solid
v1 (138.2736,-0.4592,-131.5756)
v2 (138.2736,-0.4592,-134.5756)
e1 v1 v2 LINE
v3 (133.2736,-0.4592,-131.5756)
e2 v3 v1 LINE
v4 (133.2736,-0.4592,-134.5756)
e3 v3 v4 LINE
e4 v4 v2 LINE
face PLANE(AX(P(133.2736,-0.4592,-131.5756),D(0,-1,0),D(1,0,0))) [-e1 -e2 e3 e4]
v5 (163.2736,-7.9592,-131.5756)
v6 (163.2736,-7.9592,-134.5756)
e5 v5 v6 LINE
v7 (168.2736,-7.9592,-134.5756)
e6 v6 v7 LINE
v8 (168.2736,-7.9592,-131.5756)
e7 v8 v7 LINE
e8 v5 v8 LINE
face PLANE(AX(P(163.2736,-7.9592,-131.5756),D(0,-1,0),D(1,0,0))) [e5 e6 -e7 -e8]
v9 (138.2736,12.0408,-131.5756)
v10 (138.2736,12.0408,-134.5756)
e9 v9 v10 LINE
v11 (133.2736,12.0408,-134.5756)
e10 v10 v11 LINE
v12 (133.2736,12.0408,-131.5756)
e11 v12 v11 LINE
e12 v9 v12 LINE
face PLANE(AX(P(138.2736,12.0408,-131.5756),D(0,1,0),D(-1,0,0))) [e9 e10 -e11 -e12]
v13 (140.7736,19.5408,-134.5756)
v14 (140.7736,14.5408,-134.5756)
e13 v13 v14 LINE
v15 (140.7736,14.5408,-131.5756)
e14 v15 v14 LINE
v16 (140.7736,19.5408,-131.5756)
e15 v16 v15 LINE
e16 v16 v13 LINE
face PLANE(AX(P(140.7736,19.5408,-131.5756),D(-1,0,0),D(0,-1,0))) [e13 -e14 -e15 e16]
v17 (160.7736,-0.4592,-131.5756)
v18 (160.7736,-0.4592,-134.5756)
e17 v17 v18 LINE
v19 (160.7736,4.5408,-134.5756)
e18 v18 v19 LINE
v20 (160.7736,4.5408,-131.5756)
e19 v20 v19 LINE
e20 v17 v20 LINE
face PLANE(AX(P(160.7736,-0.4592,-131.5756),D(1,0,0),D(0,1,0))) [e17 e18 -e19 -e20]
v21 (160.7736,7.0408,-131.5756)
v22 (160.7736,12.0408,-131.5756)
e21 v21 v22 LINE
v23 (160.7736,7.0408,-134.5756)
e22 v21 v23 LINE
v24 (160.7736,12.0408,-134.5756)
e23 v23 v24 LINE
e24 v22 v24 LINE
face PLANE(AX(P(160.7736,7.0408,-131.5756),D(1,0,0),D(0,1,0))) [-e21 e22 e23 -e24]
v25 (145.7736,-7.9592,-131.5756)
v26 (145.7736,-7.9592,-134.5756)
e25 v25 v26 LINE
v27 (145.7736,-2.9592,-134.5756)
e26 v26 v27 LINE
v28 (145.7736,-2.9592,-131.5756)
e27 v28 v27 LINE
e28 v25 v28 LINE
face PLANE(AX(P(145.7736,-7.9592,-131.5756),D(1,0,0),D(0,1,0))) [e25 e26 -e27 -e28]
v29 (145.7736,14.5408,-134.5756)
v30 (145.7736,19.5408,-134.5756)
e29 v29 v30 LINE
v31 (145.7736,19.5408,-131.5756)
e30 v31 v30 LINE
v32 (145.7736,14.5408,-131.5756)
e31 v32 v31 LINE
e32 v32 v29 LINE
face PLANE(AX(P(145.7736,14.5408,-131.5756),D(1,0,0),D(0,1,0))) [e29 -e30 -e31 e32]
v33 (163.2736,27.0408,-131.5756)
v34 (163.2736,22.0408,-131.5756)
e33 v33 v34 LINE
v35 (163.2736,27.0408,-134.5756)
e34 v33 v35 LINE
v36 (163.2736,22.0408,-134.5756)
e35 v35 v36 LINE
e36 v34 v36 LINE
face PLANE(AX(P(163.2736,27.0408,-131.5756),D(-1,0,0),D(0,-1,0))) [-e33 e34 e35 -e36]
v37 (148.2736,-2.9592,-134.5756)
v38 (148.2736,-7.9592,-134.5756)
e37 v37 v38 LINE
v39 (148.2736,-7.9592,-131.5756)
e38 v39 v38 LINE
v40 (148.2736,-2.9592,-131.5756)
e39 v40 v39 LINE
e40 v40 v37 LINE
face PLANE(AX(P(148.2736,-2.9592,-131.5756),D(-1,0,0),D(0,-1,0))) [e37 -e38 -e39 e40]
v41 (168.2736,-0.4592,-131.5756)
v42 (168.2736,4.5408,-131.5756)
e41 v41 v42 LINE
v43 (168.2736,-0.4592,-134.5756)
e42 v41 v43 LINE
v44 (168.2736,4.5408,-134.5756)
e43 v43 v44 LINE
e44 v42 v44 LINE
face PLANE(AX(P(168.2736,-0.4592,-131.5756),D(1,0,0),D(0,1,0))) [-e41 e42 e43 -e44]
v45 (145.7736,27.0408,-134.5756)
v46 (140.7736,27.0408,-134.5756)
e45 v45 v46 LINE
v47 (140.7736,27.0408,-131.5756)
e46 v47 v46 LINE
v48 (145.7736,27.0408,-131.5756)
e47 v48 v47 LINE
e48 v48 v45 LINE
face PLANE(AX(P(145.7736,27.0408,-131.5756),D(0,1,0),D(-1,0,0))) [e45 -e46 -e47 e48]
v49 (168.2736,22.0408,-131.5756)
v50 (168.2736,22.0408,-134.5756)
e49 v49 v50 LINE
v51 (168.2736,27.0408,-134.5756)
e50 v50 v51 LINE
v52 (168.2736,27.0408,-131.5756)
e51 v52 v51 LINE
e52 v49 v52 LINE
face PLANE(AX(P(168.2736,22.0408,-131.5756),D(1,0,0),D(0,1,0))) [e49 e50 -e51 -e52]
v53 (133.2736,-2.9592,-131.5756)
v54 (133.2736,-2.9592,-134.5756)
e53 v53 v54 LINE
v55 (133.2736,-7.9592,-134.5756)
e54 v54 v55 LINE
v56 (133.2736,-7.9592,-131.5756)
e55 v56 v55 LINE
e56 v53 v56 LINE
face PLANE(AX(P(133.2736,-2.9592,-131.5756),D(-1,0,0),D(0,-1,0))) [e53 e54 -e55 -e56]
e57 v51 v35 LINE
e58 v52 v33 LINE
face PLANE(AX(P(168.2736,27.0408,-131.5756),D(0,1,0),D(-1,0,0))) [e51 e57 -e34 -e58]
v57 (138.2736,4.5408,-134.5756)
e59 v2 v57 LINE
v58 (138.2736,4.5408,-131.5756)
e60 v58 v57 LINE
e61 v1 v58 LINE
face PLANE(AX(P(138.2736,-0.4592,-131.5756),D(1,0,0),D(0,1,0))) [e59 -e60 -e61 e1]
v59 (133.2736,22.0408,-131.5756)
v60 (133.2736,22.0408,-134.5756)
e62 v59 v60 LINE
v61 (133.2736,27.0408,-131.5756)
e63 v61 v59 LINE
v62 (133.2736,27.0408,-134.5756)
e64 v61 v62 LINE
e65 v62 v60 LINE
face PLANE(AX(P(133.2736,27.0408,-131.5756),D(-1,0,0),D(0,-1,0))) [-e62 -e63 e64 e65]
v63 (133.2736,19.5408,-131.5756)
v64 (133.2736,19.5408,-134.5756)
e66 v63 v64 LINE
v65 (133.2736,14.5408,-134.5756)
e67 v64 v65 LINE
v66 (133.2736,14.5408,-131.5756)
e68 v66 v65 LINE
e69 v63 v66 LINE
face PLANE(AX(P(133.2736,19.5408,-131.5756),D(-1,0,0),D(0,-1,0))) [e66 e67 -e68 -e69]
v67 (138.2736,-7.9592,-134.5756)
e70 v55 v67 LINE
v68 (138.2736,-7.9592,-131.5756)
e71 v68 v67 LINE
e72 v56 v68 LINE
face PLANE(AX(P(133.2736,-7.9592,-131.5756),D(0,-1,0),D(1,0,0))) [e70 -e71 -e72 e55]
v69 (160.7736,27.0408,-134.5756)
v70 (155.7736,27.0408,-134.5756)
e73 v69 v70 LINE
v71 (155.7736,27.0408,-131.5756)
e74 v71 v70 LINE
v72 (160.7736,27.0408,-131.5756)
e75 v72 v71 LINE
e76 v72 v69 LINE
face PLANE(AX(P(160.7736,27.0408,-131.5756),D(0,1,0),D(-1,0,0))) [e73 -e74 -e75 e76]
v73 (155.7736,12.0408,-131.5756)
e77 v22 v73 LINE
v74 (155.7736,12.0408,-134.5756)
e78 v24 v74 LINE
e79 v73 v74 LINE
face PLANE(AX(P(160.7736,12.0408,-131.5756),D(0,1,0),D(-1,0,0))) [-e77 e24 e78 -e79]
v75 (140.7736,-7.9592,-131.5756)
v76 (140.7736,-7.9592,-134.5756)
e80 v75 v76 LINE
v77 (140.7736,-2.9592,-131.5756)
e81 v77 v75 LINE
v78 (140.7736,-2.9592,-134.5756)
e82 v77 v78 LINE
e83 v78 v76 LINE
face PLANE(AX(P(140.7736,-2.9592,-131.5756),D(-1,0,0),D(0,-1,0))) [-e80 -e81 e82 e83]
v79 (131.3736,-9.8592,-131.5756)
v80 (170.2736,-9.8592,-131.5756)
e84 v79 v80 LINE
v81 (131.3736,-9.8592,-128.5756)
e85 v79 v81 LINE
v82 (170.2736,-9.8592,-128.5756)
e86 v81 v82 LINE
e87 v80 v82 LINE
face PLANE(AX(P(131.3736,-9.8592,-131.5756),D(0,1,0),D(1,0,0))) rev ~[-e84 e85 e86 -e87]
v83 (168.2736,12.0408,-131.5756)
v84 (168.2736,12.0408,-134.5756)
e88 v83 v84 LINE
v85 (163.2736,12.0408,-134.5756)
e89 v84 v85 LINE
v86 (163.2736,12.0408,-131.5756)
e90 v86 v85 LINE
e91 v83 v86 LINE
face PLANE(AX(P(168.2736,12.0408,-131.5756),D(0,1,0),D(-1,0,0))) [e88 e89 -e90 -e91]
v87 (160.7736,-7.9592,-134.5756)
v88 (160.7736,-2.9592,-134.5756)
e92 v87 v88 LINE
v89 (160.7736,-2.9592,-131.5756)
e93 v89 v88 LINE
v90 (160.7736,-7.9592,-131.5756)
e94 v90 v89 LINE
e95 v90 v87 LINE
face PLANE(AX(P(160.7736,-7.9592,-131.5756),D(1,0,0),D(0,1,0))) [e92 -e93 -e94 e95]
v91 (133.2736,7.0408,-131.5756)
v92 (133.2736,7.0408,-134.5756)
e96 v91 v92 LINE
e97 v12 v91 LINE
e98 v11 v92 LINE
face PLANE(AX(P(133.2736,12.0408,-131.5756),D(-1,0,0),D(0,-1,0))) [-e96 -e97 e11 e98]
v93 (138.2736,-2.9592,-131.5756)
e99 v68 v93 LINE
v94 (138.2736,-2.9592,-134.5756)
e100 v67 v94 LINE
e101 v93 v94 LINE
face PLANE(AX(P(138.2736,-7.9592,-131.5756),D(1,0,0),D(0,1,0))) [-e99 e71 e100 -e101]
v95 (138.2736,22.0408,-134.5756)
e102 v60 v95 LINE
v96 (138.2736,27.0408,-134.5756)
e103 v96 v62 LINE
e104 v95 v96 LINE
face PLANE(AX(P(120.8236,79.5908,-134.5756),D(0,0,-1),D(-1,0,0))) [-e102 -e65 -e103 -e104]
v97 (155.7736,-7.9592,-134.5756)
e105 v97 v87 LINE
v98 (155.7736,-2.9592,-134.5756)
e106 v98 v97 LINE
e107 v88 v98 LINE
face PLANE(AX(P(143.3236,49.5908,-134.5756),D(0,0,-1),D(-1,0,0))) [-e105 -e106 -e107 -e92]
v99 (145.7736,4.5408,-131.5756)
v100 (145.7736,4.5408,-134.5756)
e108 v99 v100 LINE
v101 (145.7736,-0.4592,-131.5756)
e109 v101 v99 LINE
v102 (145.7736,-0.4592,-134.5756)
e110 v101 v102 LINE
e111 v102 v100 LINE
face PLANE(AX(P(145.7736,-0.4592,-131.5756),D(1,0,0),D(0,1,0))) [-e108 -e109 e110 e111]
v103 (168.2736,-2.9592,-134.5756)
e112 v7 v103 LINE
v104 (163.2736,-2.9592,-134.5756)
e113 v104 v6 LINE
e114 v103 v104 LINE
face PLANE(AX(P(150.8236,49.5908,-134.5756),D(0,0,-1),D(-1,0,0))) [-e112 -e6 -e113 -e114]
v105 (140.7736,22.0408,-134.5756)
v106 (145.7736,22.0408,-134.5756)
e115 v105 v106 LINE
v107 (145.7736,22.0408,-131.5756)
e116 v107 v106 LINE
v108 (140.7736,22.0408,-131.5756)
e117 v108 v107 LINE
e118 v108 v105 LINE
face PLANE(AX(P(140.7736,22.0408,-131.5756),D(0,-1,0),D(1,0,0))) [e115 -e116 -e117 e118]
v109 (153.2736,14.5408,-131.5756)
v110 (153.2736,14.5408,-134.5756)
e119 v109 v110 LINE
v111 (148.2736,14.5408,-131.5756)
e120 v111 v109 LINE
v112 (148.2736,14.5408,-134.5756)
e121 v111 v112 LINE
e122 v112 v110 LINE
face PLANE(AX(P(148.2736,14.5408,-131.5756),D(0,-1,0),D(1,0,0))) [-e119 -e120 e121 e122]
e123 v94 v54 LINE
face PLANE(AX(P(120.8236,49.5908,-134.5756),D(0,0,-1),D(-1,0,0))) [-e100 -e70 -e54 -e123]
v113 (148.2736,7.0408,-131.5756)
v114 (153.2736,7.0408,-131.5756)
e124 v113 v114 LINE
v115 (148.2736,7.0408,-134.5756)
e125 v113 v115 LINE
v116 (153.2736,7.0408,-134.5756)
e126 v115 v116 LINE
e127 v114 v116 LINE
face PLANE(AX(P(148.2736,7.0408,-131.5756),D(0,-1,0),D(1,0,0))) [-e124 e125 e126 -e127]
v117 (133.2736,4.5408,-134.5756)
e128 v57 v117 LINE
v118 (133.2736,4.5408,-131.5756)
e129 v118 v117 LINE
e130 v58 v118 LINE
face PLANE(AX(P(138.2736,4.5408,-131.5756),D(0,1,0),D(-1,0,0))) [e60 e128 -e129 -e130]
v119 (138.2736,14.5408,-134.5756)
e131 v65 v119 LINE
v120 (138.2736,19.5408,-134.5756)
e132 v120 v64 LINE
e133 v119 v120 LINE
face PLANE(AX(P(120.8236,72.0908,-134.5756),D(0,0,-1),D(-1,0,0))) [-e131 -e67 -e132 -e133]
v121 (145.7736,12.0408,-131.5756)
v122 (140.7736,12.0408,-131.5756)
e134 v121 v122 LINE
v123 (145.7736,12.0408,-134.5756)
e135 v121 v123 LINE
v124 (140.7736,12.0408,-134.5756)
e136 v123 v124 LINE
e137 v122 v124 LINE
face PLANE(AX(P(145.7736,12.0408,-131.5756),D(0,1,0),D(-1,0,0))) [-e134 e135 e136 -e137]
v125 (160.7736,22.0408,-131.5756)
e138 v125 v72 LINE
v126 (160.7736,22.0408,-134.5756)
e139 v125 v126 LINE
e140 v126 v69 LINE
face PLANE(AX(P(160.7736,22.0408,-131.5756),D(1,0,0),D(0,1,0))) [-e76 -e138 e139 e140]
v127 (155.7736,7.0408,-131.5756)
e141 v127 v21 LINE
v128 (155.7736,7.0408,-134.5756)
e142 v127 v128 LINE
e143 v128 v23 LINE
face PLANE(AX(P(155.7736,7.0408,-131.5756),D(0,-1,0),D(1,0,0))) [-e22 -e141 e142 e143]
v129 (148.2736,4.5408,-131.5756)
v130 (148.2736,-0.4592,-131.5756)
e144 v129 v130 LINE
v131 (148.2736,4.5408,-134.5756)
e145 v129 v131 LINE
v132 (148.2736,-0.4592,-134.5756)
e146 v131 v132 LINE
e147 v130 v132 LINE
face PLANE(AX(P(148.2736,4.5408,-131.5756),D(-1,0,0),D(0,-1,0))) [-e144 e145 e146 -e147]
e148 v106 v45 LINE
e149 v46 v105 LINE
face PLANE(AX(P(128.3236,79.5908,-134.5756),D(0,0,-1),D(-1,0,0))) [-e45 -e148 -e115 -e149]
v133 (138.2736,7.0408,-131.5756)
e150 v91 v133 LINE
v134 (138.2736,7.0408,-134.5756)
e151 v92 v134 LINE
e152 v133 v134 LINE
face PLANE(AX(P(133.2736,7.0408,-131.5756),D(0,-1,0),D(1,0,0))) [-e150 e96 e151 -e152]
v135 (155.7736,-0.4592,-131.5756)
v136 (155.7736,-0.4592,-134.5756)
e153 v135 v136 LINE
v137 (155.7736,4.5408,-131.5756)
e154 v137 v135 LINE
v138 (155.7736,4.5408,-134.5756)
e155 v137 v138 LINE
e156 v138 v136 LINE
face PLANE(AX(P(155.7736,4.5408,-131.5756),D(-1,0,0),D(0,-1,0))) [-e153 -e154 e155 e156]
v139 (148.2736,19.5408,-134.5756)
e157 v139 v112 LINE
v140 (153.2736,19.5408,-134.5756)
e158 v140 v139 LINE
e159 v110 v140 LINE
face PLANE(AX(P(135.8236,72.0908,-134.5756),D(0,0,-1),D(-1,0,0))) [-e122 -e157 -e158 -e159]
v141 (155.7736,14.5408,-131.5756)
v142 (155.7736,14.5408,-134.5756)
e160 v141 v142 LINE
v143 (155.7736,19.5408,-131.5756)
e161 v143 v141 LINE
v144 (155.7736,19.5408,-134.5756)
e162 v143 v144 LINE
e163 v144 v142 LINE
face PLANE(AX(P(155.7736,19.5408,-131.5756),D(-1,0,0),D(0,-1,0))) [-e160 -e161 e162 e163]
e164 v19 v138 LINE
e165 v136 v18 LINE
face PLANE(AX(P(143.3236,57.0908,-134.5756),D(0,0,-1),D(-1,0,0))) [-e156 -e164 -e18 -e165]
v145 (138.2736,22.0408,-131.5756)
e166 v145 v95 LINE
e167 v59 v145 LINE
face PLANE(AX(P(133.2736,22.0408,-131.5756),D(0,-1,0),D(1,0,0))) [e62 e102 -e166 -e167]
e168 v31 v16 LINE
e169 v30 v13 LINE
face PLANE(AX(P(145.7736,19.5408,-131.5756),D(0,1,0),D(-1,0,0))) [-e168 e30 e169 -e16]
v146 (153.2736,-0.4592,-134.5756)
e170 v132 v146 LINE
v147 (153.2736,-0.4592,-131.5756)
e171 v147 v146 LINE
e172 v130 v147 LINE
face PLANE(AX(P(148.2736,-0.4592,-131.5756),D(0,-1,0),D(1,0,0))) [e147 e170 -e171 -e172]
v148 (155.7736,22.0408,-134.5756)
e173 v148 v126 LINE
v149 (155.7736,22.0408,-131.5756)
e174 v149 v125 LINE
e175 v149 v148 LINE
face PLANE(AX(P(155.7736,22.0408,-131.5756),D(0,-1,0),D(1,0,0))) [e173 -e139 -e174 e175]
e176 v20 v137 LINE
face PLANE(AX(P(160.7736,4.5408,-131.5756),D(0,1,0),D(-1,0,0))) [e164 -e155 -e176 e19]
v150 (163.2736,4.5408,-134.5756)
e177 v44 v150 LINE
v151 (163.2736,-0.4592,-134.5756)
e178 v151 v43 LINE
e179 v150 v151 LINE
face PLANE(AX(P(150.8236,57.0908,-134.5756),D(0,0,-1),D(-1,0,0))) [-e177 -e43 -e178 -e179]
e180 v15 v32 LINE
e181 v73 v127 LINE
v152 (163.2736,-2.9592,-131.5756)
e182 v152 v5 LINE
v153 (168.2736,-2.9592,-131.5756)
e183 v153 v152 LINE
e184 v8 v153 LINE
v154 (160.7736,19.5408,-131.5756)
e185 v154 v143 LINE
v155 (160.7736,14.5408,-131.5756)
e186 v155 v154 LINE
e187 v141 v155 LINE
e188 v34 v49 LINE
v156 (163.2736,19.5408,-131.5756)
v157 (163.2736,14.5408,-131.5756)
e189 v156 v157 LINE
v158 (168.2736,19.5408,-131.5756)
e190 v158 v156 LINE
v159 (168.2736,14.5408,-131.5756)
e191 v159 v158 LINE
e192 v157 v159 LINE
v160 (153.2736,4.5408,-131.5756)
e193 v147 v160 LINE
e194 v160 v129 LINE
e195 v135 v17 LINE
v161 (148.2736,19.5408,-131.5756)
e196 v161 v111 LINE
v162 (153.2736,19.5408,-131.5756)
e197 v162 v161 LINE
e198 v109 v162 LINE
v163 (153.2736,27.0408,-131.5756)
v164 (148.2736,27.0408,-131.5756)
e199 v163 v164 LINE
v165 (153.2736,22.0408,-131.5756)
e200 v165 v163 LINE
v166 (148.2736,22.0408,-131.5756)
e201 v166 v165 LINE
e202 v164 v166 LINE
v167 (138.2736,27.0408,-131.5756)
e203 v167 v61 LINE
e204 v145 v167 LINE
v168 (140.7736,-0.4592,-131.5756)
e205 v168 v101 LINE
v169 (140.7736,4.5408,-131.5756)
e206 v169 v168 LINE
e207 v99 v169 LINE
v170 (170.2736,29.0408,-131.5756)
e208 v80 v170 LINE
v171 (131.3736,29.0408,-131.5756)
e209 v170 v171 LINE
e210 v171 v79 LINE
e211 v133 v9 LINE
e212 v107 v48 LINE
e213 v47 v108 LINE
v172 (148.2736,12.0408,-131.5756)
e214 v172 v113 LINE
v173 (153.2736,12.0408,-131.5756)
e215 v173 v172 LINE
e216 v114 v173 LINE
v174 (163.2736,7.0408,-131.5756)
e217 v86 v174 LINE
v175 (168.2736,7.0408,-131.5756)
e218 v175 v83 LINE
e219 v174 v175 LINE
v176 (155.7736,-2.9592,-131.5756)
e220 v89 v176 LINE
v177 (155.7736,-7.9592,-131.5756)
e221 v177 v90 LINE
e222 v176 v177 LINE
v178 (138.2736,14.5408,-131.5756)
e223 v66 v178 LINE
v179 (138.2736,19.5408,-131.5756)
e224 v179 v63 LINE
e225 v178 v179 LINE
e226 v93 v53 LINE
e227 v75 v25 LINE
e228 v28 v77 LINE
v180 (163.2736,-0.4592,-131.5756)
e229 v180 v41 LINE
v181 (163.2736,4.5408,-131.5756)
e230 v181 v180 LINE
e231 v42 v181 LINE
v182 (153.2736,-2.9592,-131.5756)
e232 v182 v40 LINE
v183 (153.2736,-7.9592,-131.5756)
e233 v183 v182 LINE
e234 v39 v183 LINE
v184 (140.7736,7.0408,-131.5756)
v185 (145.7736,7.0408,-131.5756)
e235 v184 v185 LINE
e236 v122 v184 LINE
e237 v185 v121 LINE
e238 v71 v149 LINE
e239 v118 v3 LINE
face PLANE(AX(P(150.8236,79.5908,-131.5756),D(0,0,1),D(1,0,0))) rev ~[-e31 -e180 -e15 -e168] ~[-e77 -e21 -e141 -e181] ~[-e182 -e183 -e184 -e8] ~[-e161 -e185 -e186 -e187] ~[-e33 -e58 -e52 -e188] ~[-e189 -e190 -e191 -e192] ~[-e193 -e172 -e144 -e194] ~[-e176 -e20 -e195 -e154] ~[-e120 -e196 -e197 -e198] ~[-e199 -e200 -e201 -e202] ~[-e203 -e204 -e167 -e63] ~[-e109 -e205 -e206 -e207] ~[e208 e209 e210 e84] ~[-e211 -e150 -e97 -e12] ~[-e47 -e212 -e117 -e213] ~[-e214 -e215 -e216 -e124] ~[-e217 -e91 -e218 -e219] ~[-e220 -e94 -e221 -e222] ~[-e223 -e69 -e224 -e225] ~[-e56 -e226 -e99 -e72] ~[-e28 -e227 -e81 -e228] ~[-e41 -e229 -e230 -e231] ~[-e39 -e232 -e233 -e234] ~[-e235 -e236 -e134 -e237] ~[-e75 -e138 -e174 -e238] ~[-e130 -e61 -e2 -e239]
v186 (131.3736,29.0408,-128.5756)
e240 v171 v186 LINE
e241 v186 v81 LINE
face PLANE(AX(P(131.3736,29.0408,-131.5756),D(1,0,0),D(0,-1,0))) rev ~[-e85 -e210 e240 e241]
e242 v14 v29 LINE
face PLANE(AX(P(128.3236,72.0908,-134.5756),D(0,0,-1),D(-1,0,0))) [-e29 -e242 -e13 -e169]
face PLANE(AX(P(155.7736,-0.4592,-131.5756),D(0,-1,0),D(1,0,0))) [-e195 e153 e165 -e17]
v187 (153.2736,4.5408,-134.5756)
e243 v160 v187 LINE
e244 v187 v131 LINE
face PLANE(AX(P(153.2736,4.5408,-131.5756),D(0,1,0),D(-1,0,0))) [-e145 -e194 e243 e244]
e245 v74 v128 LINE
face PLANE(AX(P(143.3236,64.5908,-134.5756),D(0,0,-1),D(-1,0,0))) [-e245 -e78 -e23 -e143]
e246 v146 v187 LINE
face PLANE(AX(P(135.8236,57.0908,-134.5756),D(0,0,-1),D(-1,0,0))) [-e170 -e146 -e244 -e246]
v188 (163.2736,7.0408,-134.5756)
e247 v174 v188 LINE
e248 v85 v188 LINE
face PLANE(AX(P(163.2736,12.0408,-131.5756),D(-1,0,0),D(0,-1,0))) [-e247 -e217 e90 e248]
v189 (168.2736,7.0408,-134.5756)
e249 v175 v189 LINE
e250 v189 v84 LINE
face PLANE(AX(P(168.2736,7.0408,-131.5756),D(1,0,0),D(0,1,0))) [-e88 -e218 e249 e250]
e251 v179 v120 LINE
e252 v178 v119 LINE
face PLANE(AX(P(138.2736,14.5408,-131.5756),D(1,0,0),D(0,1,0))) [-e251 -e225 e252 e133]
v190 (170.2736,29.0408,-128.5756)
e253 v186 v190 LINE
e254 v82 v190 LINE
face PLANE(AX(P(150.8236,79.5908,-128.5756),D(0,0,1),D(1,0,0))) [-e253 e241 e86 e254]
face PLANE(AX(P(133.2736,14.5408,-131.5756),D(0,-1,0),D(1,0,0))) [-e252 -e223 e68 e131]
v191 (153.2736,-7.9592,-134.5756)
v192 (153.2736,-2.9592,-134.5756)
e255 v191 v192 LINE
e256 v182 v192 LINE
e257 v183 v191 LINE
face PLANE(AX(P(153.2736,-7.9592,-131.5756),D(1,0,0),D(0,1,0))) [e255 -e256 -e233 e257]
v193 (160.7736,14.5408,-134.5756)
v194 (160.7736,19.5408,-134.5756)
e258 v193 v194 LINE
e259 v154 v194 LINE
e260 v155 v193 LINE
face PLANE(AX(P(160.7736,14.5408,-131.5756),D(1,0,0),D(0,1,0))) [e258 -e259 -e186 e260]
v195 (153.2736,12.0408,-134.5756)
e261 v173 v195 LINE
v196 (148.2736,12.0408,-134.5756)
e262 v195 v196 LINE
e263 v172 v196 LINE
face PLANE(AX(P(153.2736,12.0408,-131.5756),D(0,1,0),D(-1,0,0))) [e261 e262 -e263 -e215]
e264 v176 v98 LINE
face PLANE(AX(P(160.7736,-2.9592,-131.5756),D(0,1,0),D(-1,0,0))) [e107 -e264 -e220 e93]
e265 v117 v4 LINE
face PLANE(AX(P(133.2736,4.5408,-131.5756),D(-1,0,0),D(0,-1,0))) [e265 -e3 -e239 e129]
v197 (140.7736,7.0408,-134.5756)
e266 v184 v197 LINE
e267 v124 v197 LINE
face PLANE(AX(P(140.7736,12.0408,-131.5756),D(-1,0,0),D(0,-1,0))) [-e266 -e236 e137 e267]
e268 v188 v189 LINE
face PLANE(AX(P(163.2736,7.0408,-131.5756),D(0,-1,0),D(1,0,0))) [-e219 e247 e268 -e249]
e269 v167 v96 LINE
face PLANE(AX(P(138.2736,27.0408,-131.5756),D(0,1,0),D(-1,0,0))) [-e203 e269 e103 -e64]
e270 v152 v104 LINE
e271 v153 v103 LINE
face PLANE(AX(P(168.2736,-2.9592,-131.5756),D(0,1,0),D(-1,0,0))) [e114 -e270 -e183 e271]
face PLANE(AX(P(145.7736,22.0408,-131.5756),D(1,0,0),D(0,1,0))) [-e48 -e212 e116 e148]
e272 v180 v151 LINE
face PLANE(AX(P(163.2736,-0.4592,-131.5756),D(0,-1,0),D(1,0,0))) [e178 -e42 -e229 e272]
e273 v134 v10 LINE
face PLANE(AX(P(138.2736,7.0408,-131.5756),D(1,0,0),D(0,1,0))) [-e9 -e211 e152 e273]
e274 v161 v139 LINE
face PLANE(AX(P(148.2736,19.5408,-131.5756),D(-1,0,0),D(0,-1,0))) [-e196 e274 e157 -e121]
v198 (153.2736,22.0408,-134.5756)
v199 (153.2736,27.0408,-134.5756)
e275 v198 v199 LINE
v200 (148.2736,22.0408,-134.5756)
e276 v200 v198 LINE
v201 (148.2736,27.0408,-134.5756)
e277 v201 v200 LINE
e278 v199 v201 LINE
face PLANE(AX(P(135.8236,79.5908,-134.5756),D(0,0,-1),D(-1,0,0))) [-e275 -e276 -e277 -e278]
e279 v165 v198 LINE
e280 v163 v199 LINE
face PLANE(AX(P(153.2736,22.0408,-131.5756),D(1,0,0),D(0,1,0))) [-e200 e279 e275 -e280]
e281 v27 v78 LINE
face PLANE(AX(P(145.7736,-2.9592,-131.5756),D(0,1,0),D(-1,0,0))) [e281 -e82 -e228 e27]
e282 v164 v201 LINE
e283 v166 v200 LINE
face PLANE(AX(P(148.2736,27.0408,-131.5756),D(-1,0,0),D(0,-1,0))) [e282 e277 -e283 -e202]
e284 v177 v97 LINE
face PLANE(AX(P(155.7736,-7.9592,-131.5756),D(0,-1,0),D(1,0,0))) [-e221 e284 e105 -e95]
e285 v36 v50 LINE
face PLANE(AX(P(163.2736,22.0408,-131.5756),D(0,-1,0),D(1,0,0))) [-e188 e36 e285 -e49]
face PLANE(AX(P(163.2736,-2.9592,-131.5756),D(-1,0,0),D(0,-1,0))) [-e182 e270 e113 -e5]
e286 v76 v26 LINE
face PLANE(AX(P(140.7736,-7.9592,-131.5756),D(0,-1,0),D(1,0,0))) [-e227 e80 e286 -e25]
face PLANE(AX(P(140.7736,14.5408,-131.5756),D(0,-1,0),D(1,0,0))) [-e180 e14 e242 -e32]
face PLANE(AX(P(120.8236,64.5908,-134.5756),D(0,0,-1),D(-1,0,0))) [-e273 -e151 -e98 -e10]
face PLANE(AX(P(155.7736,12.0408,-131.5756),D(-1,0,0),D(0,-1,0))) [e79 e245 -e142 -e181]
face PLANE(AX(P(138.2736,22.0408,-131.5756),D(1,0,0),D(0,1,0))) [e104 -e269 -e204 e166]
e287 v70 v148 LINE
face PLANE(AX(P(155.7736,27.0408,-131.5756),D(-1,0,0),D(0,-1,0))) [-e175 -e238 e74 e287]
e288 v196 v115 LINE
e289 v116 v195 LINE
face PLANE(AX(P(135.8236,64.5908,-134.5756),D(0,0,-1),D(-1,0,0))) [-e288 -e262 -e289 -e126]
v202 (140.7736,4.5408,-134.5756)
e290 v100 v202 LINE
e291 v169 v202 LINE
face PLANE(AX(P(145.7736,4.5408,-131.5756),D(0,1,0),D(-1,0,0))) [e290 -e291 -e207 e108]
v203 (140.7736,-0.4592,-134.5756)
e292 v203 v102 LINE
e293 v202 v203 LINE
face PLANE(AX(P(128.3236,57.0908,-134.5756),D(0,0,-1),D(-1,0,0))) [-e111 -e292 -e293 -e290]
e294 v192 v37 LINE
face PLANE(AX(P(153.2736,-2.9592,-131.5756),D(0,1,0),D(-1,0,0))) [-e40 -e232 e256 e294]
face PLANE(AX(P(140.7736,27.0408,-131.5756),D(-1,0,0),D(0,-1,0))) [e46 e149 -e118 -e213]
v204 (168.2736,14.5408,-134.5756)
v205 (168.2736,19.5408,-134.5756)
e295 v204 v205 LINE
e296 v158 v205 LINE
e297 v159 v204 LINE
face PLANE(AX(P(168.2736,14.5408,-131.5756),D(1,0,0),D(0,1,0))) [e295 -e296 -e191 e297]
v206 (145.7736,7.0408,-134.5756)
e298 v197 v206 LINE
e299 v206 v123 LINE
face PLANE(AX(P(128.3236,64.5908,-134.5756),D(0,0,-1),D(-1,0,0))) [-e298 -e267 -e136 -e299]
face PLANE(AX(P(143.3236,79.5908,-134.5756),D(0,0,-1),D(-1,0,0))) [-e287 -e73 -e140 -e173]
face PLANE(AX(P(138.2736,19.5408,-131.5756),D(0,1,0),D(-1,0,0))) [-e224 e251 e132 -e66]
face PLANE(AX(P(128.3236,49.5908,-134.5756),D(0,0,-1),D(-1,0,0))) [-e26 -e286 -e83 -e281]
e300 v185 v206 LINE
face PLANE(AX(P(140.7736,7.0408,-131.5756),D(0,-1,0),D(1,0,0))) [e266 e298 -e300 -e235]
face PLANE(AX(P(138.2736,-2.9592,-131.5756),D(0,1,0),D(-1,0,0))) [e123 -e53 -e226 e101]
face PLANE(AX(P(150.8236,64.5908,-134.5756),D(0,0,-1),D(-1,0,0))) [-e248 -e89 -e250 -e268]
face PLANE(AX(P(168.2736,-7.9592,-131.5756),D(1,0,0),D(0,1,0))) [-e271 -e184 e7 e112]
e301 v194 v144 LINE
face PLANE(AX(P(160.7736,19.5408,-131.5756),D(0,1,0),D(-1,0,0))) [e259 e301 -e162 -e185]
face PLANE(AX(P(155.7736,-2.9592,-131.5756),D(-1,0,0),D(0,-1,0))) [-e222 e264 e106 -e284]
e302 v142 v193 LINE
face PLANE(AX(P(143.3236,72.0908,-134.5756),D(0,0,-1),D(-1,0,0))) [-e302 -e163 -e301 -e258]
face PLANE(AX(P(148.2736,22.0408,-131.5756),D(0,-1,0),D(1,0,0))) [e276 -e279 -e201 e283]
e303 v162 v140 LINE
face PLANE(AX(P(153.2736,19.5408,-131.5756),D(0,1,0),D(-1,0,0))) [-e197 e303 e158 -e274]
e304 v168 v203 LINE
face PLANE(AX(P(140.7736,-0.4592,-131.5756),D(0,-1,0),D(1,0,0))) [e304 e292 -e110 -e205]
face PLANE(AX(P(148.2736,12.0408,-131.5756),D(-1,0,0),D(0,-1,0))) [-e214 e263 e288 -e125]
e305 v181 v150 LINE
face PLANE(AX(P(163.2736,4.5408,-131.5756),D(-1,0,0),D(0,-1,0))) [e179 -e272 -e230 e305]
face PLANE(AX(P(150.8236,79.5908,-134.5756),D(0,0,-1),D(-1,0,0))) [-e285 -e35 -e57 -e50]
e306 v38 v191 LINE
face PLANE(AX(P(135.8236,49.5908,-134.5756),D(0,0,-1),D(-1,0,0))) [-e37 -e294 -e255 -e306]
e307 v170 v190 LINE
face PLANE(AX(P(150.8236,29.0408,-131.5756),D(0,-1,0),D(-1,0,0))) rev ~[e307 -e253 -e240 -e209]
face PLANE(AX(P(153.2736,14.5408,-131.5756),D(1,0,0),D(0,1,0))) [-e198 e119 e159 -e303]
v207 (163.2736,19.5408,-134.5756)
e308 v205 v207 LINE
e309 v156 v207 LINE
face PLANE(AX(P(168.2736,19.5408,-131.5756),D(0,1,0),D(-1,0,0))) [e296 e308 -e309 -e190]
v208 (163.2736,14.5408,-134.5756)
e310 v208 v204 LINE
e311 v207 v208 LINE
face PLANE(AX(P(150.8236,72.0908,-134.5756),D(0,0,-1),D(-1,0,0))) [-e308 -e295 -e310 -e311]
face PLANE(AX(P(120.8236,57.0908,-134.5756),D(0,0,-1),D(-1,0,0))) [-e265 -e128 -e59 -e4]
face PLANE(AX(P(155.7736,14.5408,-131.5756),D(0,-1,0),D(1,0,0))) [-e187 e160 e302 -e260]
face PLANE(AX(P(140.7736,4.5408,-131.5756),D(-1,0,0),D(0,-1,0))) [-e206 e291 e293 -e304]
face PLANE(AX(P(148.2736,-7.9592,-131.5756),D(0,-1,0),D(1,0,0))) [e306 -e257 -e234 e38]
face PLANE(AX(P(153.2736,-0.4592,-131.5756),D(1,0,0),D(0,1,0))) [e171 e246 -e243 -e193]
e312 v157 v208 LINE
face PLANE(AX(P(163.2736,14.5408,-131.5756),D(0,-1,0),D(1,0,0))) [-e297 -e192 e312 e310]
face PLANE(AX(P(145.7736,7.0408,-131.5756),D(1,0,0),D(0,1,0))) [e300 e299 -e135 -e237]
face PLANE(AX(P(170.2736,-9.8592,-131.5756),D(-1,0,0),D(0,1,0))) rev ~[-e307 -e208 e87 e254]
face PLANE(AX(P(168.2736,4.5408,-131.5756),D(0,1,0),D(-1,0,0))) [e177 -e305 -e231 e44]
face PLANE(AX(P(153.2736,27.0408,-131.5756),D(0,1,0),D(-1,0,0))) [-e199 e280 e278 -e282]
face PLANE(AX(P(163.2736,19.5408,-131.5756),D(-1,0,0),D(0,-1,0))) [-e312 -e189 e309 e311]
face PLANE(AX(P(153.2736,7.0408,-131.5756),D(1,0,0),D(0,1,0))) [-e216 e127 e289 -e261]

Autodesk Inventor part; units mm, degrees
ref_plane "YZ Plane" through (0, 0, 0) normal (1, 0, 0) x (0, 1, 0)
ref_plane "XZ Plane" through (0, 0, 0) normal (0, 1, 0) x (-1, 0, 0)
ref_plane "XY Plane" through (0, 0, 0) normal (0, 0, 1) x (1, 0, 0)
ref_plane "Work Plane1" through (150.8236, 79.5908, -131.5756) normal (0, 0, 1) x (1, 0, 0)
ref_plane "Work Plane2" through (150.8236, 79.5908, -131.5756) normal (0, 0, 1) x (1, 0, 0)
sketch "Sketch1" plane through (150.8236, 79.5908, -131.5756) normal (0, 0, 1) x (1, 0, 0)
  line L0 (0, 0) -> (0, -70)
  line L1 (-19.45, -89.45) -> (19.45, -89.45)
  line L2 (19.45, -89.45) -> (19.45, -50.55)
  line L3 (19.45, -50.55) -> (-19.45, -50.55)
  line L4 (-19.45, -50.55) -> (-19.45, -89.45)
  line L5 (-19.45, -89.45) -> (19.45, -50.55) construction
  line L6 (19.45, -89.45) -> (-19.45, -50.55) construction
  point P0 (-150.8236, -79.5908)
  dimension "d3" = 70
  dimension "d4" = 38.9
  dimension "d5" = 38.9
extrude "Extrusion1" add sketch "Sketch1" along normal blind 3
sketch "Sketch2" plane through (150.8236, 79.5908, -131.5756) normal (0, 0, -1) x (-1, 0, 0)
  line L0 (-17.45, -52.55) -> (-12.45, -52.55)
  line L1 (-12.45, -52.55) -> (-12.45, -57.55)
  line L2 (-12.45, -57.55) -> (-17.45, -57.55)
  line L3 (-17.45, -57.55) -> (-17.45, -52.55)
  line L4 (-17.45, -52.55) -> (-12.45, -57.55) construction
  line L5 (-12.45, -52.55) -> (-17.45, -57.55) construction
  line L6 (-19.45, -89.45) -> (-19.45, -50.55) projected
  line L7 (-19.45, -50.55) -> (19.45, -50.55) projected
  point P0 (150.8236, -79.5908)
  point P1 (-14.95, -55.05)
  dimension "d8" = 5
  dimension "d9" = 5
  dimension "d18" = 2
  dimension "d19" = 2
extrude "Extrusion2" add sketch "Sketch2" along normal blind 3
pattern_linear "Rectangular Pattern1" count 5 spacing 7.5 along (-1, 0, 0) count 5 spacing 7.5 along (0, -1, 0) of "Extrusion2"
properties part number "LedMatrix_WS2812_5x5"
